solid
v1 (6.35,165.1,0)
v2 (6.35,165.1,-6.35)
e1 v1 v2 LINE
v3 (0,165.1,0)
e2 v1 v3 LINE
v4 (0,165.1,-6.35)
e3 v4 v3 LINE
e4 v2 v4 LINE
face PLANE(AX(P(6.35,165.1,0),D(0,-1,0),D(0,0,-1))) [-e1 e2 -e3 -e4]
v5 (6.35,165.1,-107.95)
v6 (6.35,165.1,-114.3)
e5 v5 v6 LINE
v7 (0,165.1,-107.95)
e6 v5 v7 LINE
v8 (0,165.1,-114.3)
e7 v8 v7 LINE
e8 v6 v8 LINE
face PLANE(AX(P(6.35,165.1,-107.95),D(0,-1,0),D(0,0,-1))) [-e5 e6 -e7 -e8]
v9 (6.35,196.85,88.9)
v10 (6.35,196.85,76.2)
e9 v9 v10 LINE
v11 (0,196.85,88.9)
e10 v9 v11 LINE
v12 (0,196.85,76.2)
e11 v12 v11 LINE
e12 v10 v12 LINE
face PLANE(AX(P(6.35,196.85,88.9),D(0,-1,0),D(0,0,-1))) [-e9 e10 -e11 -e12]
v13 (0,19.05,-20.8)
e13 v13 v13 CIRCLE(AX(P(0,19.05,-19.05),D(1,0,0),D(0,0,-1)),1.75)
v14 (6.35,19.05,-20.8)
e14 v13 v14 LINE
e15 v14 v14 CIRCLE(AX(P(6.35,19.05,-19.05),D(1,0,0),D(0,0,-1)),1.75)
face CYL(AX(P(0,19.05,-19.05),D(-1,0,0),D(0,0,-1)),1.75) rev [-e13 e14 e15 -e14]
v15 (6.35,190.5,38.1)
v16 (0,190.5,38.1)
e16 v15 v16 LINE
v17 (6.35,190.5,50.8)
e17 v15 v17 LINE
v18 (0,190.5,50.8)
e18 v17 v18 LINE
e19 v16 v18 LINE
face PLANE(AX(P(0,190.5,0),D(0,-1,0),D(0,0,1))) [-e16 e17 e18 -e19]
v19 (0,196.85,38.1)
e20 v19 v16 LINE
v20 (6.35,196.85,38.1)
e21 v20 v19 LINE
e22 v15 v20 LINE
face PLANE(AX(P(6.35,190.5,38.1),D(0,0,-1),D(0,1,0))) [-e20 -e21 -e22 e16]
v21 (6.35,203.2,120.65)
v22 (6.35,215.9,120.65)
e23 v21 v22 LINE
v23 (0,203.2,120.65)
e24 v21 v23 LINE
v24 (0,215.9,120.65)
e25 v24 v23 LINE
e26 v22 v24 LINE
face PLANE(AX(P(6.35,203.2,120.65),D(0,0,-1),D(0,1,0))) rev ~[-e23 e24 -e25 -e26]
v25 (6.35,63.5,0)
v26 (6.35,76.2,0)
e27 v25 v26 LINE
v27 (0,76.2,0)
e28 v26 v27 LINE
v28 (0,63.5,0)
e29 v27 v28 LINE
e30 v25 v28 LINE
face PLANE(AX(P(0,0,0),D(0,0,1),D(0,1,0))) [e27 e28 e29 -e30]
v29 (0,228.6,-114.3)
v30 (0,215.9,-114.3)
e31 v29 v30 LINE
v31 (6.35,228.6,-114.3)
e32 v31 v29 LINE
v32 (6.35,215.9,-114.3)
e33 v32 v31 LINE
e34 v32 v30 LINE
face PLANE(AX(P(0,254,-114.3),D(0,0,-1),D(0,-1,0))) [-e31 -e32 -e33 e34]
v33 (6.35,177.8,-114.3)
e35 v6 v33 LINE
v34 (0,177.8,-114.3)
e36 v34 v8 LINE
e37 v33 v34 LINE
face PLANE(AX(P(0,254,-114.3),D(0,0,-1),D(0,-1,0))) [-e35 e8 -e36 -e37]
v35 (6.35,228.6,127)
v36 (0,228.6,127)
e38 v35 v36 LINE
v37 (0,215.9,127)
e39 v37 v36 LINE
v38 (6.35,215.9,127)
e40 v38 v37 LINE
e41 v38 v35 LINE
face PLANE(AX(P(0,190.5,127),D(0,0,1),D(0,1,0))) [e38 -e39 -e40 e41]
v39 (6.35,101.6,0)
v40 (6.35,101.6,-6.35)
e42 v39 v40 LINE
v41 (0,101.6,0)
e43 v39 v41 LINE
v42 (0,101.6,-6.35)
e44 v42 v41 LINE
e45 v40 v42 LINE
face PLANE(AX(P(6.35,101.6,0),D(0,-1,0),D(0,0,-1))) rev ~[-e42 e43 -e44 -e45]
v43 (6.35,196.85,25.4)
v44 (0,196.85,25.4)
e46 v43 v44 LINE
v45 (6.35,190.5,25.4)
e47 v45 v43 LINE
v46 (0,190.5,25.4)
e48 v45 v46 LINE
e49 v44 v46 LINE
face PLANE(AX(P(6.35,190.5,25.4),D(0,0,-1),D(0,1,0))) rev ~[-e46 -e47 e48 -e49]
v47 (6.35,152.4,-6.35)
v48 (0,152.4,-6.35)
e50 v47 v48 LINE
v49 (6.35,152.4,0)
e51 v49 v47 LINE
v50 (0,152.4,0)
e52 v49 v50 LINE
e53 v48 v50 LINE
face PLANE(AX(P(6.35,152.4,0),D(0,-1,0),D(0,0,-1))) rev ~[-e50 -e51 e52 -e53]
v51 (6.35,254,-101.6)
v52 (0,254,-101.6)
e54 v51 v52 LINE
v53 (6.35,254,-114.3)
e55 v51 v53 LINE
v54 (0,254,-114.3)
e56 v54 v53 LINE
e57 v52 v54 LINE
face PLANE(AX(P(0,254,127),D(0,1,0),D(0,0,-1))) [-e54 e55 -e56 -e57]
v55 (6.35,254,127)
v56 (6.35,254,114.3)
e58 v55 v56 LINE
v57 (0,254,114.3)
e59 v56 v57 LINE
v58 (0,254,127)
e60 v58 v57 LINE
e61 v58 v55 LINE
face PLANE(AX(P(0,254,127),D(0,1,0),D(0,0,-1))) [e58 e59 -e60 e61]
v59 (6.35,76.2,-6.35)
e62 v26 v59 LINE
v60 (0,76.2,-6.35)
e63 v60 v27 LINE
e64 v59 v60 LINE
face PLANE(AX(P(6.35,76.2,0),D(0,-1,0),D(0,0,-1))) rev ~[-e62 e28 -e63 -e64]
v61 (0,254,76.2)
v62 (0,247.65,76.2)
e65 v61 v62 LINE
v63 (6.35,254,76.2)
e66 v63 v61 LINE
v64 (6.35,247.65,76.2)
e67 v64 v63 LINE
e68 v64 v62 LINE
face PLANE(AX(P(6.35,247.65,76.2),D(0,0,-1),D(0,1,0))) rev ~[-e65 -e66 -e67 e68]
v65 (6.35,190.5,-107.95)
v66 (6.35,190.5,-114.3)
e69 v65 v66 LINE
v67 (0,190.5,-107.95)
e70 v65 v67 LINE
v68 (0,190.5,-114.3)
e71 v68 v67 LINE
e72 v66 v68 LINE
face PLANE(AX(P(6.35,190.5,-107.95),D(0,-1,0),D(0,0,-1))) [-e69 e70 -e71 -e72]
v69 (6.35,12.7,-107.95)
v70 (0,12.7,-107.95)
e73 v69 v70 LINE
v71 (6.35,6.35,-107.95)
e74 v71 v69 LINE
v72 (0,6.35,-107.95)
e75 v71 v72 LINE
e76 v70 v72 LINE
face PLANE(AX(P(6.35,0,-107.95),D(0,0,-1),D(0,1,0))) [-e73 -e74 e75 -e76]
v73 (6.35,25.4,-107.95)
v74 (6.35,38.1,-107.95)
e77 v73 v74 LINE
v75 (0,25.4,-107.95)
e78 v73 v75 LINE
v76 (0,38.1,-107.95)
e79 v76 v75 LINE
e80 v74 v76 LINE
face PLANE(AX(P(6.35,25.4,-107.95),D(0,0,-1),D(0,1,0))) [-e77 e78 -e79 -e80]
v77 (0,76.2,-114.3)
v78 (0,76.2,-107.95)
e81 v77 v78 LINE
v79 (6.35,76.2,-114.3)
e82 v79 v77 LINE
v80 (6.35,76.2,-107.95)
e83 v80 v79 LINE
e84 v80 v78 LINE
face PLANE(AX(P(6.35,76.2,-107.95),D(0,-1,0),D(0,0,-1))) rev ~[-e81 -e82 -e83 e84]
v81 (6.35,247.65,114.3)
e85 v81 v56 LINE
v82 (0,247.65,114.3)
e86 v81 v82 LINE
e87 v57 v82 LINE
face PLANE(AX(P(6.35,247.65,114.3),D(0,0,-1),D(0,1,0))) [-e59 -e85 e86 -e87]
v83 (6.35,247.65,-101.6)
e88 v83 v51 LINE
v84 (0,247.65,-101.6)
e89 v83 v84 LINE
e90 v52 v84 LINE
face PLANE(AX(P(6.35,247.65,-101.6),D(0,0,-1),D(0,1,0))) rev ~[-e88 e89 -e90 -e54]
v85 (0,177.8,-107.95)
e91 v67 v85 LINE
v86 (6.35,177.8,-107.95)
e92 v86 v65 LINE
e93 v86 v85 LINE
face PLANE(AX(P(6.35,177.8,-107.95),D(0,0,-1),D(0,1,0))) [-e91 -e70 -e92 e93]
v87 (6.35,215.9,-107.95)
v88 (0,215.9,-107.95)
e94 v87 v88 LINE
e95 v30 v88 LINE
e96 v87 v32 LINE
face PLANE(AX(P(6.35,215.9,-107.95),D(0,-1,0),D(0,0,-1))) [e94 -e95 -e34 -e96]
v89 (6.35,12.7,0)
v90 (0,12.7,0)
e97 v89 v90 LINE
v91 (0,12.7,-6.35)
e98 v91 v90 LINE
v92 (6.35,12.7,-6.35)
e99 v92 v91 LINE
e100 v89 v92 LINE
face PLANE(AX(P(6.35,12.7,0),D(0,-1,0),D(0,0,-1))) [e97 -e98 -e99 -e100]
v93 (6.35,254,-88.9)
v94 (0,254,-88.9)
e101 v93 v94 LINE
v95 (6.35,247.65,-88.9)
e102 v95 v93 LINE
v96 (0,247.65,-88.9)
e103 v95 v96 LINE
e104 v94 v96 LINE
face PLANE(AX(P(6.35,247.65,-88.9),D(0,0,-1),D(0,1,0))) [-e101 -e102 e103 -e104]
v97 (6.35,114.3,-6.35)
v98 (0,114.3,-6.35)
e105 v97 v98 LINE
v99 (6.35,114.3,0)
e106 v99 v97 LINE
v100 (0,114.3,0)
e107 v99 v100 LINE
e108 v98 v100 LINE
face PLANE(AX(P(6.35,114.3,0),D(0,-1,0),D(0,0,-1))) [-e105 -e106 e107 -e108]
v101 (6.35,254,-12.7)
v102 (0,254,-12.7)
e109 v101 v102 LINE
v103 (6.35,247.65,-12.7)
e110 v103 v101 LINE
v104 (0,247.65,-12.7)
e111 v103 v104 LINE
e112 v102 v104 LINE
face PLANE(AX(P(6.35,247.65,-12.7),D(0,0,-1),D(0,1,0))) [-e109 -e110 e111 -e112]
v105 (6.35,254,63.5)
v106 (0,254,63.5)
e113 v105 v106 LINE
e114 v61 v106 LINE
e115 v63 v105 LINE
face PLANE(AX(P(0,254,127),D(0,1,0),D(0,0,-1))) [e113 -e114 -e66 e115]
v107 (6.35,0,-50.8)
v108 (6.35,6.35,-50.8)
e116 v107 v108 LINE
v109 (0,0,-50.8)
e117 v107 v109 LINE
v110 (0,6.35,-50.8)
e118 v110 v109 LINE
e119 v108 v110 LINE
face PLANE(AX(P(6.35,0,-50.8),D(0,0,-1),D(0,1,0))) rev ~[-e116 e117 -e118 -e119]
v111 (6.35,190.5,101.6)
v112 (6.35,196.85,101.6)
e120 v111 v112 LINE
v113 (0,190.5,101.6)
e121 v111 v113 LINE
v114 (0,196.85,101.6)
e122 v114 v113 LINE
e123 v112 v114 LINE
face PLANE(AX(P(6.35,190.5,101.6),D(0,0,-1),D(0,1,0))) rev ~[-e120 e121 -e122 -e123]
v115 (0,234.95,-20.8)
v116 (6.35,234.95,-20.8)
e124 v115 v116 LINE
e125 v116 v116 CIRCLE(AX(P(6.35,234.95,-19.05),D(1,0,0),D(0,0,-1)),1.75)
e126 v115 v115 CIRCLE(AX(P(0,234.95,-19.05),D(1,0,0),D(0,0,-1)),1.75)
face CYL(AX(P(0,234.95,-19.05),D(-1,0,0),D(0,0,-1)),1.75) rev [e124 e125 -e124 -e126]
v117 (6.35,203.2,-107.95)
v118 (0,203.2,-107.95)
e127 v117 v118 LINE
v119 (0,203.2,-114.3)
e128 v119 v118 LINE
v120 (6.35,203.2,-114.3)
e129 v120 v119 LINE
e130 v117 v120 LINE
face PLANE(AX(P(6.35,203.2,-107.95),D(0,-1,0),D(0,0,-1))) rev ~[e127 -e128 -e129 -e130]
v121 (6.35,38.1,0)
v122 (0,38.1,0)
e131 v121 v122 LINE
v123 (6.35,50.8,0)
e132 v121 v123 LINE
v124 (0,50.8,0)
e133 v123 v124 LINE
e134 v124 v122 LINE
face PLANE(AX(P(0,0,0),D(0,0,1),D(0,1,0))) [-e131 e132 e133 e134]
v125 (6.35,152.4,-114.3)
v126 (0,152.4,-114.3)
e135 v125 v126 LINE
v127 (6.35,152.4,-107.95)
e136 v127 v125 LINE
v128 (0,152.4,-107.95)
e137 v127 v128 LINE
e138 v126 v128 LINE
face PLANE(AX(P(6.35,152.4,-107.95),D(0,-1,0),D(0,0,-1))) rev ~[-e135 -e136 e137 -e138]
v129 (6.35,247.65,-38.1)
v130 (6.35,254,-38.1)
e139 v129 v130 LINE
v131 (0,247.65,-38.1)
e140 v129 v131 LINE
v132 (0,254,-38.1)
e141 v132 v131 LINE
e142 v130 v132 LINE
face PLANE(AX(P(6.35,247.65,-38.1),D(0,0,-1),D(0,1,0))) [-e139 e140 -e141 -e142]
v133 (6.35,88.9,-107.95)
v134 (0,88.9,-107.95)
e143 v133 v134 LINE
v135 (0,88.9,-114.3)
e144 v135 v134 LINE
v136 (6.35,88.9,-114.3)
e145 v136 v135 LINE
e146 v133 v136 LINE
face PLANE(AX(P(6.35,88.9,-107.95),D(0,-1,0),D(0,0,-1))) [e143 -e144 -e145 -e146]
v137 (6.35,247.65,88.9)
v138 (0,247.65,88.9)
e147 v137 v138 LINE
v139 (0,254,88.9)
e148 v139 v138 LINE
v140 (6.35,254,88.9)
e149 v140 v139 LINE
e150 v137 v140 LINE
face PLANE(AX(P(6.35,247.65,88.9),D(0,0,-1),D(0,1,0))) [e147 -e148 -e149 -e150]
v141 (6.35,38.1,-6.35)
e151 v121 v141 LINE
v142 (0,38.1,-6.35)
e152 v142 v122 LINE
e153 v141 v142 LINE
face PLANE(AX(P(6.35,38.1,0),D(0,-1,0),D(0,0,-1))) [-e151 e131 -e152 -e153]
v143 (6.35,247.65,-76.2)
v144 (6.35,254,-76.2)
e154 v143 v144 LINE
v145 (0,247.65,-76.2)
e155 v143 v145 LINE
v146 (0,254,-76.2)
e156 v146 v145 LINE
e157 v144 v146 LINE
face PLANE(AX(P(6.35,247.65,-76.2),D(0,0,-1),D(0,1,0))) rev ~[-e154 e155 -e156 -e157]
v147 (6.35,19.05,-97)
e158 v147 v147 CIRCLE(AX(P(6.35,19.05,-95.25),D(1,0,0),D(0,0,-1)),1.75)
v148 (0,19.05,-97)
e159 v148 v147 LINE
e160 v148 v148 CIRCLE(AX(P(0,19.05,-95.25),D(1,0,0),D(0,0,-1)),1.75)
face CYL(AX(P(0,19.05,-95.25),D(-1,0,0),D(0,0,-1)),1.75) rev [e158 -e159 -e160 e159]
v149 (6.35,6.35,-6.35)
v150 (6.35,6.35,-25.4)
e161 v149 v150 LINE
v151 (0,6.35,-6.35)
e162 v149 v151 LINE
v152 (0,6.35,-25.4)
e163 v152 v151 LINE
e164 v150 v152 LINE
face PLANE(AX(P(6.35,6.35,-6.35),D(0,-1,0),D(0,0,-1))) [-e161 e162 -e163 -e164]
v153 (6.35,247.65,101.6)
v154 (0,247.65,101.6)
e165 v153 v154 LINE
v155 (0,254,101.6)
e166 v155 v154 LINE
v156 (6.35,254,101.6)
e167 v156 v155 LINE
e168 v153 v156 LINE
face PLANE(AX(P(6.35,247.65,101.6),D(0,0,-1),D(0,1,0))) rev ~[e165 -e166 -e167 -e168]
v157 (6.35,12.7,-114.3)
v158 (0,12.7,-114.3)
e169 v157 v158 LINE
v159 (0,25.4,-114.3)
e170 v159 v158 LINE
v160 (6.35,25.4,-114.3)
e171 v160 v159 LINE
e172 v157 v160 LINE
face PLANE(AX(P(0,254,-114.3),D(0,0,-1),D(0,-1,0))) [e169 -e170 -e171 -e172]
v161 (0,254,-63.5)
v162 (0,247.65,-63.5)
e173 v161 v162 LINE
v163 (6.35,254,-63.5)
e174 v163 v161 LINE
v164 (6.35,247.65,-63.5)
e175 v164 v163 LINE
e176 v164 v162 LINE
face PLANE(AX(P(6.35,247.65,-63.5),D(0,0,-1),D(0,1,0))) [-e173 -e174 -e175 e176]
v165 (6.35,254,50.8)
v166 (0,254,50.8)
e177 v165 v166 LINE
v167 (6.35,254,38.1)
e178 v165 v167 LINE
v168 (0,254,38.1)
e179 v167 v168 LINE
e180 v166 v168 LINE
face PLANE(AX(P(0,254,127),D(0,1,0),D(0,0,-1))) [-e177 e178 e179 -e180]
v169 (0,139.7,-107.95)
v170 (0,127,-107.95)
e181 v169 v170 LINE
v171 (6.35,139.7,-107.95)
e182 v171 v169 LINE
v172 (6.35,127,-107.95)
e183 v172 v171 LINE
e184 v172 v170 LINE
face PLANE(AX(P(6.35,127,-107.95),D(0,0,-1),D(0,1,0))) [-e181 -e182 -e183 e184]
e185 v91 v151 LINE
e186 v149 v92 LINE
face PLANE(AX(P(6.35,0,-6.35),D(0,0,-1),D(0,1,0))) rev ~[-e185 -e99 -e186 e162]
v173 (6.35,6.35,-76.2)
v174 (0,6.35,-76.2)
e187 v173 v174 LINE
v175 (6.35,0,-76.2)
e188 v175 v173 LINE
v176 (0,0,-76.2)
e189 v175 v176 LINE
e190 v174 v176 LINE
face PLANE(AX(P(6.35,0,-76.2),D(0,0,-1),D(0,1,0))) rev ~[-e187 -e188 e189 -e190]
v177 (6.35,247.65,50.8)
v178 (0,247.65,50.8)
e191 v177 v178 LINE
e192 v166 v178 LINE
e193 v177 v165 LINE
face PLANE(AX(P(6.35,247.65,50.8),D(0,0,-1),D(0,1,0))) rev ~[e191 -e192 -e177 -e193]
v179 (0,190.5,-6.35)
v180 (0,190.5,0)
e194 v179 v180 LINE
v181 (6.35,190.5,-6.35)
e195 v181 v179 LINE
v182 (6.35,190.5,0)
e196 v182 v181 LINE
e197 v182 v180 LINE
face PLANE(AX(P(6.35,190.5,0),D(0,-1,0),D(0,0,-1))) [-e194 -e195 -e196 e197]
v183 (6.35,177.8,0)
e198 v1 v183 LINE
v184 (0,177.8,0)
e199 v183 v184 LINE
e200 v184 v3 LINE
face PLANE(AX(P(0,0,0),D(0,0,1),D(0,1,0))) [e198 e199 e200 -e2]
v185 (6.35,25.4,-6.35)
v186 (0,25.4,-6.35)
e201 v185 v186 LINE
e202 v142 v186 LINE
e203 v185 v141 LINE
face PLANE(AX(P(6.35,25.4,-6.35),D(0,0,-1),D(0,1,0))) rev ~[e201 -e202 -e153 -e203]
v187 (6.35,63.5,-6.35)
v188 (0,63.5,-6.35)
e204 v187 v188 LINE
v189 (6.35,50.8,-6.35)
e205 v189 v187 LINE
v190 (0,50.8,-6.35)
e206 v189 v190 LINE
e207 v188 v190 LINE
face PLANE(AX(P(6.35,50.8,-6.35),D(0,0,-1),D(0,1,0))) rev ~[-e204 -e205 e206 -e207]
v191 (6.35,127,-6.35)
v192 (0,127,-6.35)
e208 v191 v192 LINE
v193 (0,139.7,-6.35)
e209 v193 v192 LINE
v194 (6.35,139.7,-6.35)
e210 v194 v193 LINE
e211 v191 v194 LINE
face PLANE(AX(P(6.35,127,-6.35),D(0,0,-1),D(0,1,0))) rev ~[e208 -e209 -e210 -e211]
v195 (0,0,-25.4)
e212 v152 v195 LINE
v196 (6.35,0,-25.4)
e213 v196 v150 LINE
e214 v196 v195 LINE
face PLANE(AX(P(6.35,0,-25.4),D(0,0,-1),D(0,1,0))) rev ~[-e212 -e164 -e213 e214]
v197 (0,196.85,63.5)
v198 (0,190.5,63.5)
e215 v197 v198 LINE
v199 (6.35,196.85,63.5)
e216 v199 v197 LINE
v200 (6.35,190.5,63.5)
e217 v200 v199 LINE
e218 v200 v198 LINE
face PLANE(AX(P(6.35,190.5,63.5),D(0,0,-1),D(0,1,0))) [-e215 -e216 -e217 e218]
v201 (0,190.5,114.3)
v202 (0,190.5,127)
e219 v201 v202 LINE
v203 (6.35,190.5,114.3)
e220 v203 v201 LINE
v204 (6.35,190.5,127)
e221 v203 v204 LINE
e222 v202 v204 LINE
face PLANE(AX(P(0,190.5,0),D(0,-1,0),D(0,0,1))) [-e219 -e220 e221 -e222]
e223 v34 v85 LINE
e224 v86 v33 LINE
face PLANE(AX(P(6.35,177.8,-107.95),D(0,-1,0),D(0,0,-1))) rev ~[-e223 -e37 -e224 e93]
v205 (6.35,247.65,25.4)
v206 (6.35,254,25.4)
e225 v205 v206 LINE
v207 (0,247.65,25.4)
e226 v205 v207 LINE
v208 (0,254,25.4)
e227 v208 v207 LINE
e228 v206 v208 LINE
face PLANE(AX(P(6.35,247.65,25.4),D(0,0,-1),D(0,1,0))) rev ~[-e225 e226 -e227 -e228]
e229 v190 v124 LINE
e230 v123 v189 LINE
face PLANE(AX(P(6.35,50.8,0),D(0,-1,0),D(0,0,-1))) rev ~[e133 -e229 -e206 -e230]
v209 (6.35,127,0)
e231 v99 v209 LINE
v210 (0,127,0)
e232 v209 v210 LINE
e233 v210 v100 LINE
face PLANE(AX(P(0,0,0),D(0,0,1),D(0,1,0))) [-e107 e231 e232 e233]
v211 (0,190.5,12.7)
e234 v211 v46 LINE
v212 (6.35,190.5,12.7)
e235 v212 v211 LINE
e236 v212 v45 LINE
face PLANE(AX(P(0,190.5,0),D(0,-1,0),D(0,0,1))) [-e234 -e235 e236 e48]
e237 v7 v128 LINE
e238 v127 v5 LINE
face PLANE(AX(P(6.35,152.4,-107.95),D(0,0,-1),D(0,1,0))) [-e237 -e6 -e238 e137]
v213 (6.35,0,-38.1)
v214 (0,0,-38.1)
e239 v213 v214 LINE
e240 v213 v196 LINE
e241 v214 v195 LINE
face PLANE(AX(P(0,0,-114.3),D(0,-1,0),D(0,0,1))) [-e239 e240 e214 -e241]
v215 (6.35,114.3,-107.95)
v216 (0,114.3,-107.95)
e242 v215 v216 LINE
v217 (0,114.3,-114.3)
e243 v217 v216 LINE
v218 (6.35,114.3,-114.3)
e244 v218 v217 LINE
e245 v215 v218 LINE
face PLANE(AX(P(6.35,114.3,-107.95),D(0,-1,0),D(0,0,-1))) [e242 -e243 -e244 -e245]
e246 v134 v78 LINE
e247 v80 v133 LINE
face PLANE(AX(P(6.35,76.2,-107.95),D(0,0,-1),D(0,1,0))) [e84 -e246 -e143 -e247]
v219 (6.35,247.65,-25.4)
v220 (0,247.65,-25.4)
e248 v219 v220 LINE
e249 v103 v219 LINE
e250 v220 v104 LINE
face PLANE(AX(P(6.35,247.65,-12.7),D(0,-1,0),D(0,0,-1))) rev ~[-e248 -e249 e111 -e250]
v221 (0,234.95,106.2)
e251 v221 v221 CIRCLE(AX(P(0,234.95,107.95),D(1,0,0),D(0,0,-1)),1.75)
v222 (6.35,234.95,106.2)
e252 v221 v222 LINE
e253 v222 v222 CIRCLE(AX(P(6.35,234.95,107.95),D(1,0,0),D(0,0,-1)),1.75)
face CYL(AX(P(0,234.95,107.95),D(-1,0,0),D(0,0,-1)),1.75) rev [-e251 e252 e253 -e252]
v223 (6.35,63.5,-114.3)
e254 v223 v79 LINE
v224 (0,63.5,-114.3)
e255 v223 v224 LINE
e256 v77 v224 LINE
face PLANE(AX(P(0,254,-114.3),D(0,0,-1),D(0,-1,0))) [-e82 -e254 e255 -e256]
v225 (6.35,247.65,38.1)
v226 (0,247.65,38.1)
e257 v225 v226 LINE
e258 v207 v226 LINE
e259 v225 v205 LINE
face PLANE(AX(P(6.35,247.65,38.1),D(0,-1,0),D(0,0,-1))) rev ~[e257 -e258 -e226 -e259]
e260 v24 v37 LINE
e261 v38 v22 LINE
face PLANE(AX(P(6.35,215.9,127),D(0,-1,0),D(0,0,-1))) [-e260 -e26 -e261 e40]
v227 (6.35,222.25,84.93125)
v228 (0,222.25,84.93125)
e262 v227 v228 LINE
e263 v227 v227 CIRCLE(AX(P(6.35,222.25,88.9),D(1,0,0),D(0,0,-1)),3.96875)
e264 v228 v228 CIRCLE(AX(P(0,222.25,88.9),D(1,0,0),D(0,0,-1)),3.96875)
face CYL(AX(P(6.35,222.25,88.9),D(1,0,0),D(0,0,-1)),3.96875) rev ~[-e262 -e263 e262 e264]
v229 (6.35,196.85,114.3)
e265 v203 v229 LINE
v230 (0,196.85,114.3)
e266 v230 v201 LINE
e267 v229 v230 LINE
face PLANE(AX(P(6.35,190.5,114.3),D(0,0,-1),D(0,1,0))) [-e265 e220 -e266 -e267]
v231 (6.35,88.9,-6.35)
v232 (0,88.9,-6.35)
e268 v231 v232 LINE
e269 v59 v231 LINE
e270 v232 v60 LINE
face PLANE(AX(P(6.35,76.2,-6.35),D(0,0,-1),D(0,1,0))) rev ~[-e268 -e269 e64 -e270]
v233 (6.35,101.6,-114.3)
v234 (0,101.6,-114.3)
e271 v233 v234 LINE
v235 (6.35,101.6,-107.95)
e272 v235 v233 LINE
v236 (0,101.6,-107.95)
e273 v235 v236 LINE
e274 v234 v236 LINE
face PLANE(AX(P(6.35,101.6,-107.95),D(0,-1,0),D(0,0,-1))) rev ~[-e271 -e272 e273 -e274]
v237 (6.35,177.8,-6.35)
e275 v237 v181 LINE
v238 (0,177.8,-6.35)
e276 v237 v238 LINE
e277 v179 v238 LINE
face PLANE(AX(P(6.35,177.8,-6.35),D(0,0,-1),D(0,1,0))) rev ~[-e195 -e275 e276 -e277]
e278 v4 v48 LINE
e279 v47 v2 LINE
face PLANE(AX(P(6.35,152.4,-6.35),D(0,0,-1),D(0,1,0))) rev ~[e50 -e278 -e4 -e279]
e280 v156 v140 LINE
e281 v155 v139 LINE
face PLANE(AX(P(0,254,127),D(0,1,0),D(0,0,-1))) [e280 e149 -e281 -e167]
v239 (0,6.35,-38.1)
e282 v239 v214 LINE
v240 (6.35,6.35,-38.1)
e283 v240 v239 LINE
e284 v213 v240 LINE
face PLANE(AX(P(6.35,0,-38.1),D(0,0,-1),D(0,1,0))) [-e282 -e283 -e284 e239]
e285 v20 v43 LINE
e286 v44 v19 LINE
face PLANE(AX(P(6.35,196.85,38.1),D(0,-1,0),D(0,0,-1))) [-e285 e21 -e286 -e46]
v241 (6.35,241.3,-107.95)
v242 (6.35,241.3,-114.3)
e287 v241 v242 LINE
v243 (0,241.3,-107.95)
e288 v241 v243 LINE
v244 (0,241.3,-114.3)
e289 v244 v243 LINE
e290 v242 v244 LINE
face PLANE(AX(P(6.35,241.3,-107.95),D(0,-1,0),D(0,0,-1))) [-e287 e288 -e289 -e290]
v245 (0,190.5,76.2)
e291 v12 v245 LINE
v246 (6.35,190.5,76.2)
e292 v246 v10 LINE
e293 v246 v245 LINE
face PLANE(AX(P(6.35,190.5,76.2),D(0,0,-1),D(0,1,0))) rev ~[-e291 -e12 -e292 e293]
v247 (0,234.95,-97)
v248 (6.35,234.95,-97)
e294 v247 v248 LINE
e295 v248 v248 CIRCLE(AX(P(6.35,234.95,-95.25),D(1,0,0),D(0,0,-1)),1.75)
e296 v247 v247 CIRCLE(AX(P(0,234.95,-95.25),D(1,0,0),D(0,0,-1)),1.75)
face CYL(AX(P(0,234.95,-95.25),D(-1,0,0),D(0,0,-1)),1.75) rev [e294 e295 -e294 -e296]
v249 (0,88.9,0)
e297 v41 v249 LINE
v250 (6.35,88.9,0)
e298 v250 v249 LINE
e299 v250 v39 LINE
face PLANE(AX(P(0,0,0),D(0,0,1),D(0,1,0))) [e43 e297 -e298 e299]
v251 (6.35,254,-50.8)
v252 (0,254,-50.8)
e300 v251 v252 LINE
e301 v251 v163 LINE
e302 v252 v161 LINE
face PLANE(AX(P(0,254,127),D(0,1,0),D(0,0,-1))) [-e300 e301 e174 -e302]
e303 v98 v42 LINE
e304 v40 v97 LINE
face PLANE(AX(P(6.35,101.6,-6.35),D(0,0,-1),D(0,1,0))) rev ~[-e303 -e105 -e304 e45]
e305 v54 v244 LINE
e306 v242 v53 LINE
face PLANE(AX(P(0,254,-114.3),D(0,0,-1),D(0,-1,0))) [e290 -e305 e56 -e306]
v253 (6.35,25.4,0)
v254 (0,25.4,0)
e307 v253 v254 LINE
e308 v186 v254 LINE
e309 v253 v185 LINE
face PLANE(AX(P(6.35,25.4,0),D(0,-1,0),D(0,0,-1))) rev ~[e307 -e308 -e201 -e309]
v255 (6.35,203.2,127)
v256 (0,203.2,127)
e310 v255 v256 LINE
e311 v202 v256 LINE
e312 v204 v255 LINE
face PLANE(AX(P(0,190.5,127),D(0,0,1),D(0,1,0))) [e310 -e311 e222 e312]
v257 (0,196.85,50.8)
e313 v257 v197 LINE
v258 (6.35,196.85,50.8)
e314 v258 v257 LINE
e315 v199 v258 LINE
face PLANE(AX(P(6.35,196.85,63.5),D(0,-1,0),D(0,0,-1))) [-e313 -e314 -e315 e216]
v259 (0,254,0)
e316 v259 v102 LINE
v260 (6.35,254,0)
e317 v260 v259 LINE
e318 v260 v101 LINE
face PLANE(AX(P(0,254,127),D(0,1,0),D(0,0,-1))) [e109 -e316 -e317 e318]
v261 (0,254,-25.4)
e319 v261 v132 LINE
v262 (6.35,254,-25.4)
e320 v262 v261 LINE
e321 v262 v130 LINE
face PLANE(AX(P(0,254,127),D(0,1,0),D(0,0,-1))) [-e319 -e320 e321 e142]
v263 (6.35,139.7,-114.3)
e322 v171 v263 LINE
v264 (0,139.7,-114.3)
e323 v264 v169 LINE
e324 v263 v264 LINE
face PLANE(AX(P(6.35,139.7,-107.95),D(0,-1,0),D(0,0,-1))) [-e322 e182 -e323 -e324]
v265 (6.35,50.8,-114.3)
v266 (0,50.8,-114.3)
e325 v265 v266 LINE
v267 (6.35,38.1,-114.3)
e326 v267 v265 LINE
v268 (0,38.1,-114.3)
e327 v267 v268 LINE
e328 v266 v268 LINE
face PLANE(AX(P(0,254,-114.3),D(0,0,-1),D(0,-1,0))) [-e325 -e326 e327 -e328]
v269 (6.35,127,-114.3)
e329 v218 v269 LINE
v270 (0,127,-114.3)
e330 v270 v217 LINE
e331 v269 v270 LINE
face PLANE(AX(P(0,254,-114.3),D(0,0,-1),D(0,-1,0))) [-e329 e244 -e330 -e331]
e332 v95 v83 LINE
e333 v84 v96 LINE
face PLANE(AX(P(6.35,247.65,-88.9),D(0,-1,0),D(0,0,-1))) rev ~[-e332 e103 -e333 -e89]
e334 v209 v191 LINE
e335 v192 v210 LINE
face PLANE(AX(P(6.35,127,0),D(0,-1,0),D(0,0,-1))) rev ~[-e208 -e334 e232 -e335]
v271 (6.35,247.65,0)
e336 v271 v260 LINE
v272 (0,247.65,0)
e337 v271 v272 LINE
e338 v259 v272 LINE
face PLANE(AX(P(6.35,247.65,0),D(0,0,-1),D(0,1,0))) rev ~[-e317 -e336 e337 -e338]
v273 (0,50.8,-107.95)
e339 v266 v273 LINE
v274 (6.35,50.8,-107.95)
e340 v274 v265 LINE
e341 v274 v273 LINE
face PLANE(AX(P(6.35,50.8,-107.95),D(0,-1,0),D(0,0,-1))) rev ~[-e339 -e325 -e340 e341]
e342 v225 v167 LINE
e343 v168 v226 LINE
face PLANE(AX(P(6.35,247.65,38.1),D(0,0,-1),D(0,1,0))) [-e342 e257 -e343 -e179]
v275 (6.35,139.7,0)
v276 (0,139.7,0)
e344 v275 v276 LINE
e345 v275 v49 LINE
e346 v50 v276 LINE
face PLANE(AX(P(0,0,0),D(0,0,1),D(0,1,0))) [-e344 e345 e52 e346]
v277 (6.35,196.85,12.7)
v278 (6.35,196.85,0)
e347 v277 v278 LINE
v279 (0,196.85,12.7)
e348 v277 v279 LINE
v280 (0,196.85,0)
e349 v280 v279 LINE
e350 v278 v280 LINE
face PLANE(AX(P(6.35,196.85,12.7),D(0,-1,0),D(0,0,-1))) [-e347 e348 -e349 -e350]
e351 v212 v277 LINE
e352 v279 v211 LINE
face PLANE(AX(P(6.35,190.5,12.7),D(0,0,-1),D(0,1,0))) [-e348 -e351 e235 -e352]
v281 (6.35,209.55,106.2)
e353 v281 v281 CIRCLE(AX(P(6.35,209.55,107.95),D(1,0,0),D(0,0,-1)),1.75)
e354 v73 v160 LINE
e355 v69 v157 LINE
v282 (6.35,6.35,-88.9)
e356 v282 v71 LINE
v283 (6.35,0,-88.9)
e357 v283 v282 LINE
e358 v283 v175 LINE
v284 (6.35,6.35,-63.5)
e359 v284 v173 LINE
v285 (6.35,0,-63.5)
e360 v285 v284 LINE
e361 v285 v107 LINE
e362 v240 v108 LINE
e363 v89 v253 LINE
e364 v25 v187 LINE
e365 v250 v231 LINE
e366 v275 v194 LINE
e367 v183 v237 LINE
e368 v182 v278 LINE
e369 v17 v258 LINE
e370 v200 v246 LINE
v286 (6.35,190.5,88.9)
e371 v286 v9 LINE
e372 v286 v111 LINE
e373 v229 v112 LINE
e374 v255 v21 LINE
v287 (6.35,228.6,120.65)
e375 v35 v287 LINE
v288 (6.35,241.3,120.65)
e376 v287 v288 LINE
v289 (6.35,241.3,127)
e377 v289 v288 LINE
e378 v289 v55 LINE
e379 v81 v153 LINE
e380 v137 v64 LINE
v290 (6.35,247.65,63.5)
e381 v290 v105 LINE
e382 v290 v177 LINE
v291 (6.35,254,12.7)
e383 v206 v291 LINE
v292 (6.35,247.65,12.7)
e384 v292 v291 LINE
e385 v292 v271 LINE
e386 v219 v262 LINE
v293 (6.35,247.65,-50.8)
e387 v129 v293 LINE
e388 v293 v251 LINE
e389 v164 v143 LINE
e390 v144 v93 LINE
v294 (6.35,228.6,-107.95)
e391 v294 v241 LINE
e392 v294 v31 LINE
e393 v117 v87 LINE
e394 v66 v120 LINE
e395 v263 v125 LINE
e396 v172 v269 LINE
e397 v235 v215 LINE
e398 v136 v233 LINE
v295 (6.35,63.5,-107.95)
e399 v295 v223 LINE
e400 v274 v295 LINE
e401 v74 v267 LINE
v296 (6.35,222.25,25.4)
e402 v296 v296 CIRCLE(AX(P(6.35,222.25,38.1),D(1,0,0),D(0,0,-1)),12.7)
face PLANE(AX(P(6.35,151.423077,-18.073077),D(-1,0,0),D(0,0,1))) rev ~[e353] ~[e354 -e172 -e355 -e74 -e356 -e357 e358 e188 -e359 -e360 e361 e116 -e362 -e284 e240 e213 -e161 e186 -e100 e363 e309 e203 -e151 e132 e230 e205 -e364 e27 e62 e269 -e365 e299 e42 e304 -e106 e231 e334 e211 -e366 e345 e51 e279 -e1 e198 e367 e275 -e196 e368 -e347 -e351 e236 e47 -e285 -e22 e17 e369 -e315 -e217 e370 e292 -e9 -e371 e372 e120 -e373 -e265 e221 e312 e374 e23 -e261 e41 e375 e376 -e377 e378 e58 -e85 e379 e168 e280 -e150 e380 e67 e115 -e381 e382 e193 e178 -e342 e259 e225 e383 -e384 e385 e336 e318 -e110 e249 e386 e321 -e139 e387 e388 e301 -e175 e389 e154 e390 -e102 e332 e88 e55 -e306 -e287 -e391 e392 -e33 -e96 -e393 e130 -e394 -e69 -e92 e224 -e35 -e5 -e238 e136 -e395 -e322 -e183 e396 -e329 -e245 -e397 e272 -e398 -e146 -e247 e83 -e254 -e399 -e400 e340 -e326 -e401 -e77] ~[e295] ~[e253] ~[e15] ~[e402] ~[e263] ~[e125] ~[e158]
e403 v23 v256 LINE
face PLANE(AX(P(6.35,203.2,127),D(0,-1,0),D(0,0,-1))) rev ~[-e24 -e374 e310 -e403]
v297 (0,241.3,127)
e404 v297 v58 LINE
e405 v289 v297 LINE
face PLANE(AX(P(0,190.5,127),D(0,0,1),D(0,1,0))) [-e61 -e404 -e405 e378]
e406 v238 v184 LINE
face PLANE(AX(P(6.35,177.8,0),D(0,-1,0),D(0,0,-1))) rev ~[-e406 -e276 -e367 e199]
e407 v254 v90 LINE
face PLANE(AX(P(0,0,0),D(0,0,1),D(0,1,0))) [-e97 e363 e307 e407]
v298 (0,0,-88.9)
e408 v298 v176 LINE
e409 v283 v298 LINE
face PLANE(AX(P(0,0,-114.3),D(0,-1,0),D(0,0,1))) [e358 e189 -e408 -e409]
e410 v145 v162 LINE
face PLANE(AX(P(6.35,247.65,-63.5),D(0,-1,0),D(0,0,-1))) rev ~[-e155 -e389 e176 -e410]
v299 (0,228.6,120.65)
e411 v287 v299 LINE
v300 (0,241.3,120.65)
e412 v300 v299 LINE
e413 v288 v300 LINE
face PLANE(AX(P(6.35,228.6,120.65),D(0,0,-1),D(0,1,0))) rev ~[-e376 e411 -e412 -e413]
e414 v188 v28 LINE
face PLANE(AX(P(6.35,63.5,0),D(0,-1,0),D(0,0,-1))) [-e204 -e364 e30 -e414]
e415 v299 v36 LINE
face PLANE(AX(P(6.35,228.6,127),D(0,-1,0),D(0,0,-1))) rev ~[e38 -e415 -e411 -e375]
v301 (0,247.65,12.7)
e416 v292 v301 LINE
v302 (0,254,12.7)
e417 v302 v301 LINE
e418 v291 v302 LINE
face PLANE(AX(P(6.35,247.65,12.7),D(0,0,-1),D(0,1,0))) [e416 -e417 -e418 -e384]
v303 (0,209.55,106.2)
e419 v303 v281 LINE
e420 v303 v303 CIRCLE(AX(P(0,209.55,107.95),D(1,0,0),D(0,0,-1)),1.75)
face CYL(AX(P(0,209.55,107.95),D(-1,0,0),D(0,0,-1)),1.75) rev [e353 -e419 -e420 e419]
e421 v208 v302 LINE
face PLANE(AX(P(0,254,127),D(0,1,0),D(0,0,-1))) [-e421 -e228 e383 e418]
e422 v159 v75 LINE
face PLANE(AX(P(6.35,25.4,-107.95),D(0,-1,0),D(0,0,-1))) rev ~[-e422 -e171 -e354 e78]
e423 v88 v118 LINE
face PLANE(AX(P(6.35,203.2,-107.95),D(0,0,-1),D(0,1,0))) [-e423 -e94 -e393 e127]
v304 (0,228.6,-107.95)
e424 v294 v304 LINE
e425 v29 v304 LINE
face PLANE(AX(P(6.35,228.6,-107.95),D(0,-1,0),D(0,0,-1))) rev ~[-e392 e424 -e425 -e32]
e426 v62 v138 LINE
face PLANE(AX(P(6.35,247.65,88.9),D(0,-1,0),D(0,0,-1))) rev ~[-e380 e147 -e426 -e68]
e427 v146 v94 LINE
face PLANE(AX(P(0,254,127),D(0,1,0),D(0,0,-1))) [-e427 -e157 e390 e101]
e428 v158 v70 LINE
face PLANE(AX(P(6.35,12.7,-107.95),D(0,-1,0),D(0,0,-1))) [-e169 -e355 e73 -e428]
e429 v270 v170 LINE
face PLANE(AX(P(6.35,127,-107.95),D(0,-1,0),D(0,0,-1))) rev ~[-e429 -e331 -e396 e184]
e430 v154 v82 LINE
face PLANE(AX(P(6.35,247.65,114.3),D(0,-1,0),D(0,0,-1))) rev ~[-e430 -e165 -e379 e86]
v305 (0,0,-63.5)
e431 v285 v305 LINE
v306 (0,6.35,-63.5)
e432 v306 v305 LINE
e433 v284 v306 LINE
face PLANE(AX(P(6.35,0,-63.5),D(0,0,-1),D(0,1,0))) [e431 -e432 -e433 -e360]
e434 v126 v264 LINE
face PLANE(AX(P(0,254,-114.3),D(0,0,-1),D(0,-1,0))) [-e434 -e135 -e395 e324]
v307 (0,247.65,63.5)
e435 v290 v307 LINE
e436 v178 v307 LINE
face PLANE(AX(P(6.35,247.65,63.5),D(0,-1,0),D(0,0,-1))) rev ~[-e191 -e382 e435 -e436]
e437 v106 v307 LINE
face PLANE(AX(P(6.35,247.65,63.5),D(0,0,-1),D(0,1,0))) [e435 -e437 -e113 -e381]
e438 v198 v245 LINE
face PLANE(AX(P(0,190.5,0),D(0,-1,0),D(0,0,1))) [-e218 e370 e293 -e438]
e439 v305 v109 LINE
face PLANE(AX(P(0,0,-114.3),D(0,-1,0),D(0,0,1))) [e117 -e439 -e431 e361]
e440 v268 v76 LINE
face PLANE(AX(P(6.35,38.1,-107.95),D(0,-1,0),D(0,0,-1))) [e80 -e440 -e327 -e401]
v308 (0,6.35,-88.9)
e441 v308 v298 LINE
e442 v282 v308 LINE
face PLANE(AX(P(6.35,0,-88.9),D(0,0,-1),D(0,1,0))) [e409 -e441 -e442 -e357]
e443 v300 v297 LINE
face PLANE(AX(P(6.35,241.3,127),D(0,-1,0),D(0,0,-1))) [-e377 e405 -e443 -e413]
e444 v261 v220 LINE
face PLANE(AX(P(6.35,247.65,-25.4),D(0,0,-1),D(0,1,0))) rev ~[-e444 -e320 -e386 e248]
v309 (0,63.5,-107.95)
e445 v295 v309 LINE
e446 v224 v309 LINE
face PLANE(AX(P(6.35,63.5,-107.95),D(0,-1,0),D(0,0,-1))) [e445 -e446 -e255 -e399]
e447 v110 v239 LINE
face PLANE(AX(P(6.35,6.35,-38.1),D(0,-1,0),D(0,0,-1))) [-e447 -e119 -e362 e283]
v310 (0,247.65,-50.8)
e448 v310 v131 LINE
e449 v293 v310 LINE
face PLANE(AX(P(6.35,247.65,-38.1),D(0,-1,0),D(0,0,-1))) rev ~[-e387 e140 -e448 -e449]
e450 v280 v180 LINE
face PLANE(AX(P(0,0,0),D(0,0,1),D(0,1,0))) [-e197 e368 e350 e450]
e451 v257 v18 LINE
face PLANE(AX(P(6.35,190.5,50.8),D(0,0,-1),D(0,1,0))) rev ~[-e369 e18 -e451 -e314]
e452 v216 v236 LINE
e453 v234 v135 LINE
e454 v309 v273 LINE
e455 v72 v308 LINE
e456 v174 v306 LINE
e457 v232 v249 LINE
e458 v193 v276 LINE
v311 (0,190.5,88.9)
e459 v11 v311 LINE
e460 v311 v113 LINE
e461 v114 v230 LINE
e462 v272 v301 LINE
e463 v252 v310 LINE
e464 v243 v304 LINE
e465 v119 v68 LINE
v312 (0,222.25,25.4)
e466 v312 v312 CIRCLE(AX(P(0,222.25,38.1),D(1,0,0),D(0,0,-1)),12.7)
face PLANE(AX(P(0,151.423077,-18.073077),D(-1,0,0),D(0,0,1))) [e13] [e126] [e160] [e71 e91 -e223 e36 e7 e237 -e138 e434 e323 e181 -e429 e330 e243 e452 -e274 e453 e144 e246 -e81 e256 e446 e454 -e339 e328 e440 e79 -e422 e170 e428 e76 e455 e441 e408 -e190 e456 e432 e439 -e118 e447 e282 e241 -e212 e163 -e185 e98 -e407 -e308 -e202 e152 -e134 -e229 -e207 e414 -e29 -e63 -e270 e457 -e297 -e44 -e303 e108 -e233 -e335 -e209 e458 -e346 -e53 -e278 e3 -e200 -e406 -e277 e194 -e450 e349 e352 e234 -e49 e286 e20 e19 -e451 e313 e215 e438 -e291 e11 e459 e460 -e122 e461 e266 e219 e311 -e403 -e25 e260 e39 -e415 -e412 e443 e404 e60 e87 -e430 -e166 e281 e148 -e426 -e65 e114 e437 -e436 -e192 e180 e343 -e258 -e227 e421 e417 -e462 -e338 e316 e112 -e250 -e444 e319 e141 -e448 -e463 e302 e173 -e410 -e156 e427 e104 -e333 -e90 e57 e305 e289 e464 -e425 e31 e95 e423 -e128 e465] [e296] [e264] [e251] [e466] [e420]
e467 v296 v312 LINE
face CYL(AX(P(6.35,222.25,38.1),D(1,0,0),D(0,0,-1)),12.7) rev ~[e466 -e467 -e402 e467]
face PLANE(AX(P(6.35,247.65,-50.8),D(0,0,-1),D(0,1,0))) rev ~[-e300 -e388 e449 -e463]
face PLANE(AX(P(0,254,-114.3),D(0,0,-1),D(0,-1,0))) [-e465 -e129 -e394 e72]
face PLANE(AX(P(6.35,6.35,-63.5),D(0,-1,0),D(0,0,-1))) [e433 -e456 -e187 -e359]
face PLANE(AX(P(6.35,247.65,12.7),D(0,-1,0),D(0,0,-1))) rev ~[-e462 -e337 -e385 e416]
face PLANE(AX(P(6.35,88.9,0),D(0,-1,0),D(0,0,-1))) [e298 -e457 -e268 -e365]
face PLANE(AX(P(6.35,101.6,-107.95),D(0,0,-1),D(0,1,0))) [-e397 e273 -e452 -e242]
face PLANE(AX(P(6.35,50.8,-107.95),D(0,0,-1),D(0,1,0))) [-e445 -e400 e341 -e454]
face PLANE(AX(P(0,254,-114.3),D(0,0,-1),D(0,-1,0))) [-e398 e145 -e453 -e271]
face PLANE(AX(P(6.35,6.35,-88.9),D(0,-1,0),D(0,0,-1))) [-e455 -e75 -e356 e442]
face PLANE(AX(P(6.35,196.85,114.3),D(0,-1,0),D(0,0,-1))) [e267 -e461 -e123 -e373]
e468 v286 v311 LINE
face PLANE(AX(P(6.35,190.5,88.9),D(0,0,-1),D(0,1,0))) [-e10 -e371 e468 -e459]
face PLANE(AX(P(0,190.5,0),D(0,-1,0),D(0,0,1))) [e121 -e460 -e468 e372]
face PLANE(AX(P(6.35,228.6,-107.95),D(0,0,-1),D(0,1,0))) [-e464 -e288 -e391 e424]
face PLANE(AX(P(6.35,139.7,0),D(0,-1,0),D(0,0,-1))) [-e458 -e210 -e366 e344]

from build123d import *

# Parameters (mm, degrees)
SKETCH1_R           = 1.75
BOSS_EXTRUDE1_DEPTH = 6.35
SKETCH2_W           = 12.7
SKETCH2_H           = 6.35
CUT_EXTRUDE1_DEPTH  = 7.35
LPATTERN1_COUNT     = 10
LPATTERN1_PITCH     = 25.4
SKETCH3_W           = 6.35
SKETCH3_H           = 12.7
CUT_EXTRUDE2_DEPTH  = 7.35
LPATTERN2_COUNT     = 10
LPATTERN2_PITCH     = 25.4
SKETCH4_W           = 6.35
SKETCH4_H           = 12.7
CUT_EXTRUDE3_DEPTH  = 7.35
SKETCH5_W           = 12.7
SKETCH5_H           = 6.35
CUT_EXTRUDE4_DEPTH  = 7.35
LPATTERN3_COUNT     = 5
LPATTERN3_PITCH     = 25.4
SKETCH6_W           = 6.35
SKETCH6_H           = 12.7
CUT_EXTRUDE5_DEPTH  = 7.35
LPATTERN4_COUNT     = 8
LPATTERN4_PITCH     = 25.4
SKETCH7_W           = 12.7
SKETCH7_H           = 6.35
CUT_EXTRUDE6_DEPTH  = 7.35
SKETCH8_W           = 6.35
SKETCH8_H           = 6.35
CUT_EXTRUDE7_DEPTH  = 7.35
SKETCH9_R           = 3.96875
CUT_EXTRUDE8_DEPTH  = 7.35
SKETCH10_R          = 12.7
CUT_EXTRUDE9_DEPTH  = 7.35


with BuildPart() as part:
    # Sketch1 → Boss-Extrude1 (new body)
    with BuildSketch(Plane(origin=(0, 0, 0), x_dir=(0, 0, -1), z_dir=(1, 0, 0))):
        Polygon((0, 0), (0, 190.5), (-127, 190.5), (-127, 254), (114.3, 254), (114.3, 0), align=None)
        with Locations((-107.95, 234.95)):
            Circle(SKETCH1_R, mode=Mode.SUBTRACT)
        with Locations((-107.95, 209.55)):
            Circle(SKETCH1_R, mode=Mode.SUBTRACT)
        with Locations((19.05, 234.95)):
            Circle(SKETCH1_R, mode=Mode.SUBTRACT)
        with Locations((95.25, 234.95)):
            Circle(SKETCH1_R, mode=Mode.SUBTRACT)
        with Locations((19.05, 19.05)):
            Circle(SKETCH1_R, mode=Mode.SUBTRACT)
        with Locations((95.25, 19.05)):
            Circle(SKETCH1_R, mode=Mode.SUBTRACT)
    extrude(amount=BOSS_EXTRUDE1_DEPTH)

    # Sketch2 → Cut-Extrude1 (cut, through all)
    with BuildSketch(Plane(origin=(6.35, 0, 0), x_dir=(0, 0, -1), z_dir=(1, 0, 0))):
        with Locations((-107.95, 250.825)):
            Rectangle(SKETCH2_W, SKETCH2_H)
    cut_extrude1 = extrude(amount=-CUT_EXTRUDE1_DEPTH, mode=Mode.SUBTRACT)

    # LPattern1: Cut-Extrude1 ×10
    with Locations(*[(0, 0, -i * LPATTERN1_PITCH) for i in range(1, LPATTERN1_COUNT)]):
        add(cut_extrude1, mode=Mode.SUBTRACT)

    # Sketch3 → Cut-Extrude2 (cut, through all)
    with BuildSketch(Plane(origin=(6.35, 0, 0), x_dir=(0, 0, -1), z_dir=(1, 0, 0))):
        with Locations((111.125, 234.95)):
            Rectangle(SKETCH3_W, SKETCH3_H)
    cut_extrude2 = extrude(amount=-CUT_EXTRUDE2_DEPTH, mode=Mode.SUBTRACT)

    # LPattern2: Cut-Extrude2 ×10
    with Locations(*[(0, -i * LPATTERN2_PITCH, 0) for i in range(1, LPATTERN2_COUNT)]):
        add(cut_extrude2, mode=Mode.SUBTRACT)

    # Sketch4 → Cut-Extrude3 (cut, through all)
    with BuildSketch(Plane(origin=(6.35, 0, 0), x_dir=(0, 0, -1), z_dir=(1, 0, 0))):
        with Locations((-123.825, 234.95)):
            Rectangle(SKETCH4_W, SKETCH4_H)
        with Locations((-123.825, 209.55)):
            Rectangle(SKETCH4_W, SKETCH4_H)
    extrude(amount=-CUT_EXTRUDE3_DEPTH, mode=Mode.SUBTRACT)

    # Sketch5 → Cut-Extrude4 (cut, through all)
    with BuildSketch(Plane(origin=(6.35, 0, 0), x_dir=(0, 0, -1), z_dir=(1, 0, 0))):
        with Locations((-107.95, 193.675)):
            Rectangle(SKETCH5_W, SKETCH5_H)
    cut_extrude4 = extrude(amount=-CUT_EXTRUDE4_DEPTH, mode=Mode.SUBTRACT)

    # LPattern3: Cut-Extrude4 ×5
    with Locations(*[(0, 0, -i * LPATTERN3_PITCH) for i in range(1, LPATTERN3_COUNT)]):
        add(cut_extrude4, mode=Mode.SUBTRACT)

    # Sketch6 → Cut-Extrude5 (cut, through all)
    with BuildSketch(Plane(origin=(6.35, 0, 0), x_dir=(0, 0, -1), z_dir=(1, 0, 0))):
        with Locations((3.175, 6.35)):
            Rectangle(SKETCH6_W, SKETCH6_H)
    cut_extrude5 = extrude(amount=-CUT_EXTRUDE5_DEPTH, mode=Mode.SUBTRACT)

    # LPattern4: Cut-Extrude5 ×8
    with Locations(*[(0, i * LPATTERN4_PITCH, 0) for i in range(1, LPATTERN4_COUNT)]):
        add(cut_extrude5, mode=Mode.SUBTRACT)

    # Sketch7 → Cut-Extrude6 (cut, through all)
    with BuildSketch(Plane(origin=(6.35, 0, 0), x_dir=(0, 0, -1), z_dir=(1, 0, 0))):
        with Locations((19.05, 3.175)):
            Rectangle(SKETCH7_W, SKETCH7_H)
        with Locations((44.45, 3.175)):
            Rectangle(SKETCH7_W, SKETCH7_H)
        with Locations((69.85, 3.175)):
            Rectangle(SKETCH7_W, SKETCH7_H)
        with Locations((95.25, 3.175)):
            Rectangle(SKETCH7_W, SKETCH7_H)
    extrude(amount=-CUT_EXTRUDE6_DEPTH, mode=Mode.SUBTRACT)

    # Sketch8 → Cut-Extrude7 (cut, through all)
    with BuildSketch(Plane(origin=(6.35, 0, 0), x_dir=(0, 0, -1), z_dir=(1, 0, 0))):
        with Locations((9.525, 3.175)):
            Rectangle(SKETCH8_W, SKETCH8_H)
        with Locations((104.775, 3.175)):
            Rectangle(SKETCH8_W, SKETCH8_H)
    extrude(amount=-CUT_EXTRUDE7_DEPTH, mode=Mode.SUBTRACT)

    # Sketch9 → Cut-Extrude8 (cut, through all)
    with BuildSketch(Plane(origin=(6.35, 0, 0), x_dir=(0, 0, -1), z_dir=(1, 0, 0))):
        with Locations((-88.9, 222.25)):
            Circle(SKETCH9_R)
    extrude(amount=-CUT_EXTRUDE8_DEPTH, mode=Mode.SUBTRACT)

    # Sketch10 → Cut-Extrude9 (cut, through all)
    with BuildSketch(Plane(origin=(6.35, 0, 0), x_dir=(0, 0, -1), z_dir=(1, 0, 0))):
        with Locations((-38.1, 222.25)):
            Circle(SKETCH10_R)
    extrude(amount=-CUT_EXTRUDE9_DEPTH, mode=Mode.SUBTRACT)


solid = part.part
